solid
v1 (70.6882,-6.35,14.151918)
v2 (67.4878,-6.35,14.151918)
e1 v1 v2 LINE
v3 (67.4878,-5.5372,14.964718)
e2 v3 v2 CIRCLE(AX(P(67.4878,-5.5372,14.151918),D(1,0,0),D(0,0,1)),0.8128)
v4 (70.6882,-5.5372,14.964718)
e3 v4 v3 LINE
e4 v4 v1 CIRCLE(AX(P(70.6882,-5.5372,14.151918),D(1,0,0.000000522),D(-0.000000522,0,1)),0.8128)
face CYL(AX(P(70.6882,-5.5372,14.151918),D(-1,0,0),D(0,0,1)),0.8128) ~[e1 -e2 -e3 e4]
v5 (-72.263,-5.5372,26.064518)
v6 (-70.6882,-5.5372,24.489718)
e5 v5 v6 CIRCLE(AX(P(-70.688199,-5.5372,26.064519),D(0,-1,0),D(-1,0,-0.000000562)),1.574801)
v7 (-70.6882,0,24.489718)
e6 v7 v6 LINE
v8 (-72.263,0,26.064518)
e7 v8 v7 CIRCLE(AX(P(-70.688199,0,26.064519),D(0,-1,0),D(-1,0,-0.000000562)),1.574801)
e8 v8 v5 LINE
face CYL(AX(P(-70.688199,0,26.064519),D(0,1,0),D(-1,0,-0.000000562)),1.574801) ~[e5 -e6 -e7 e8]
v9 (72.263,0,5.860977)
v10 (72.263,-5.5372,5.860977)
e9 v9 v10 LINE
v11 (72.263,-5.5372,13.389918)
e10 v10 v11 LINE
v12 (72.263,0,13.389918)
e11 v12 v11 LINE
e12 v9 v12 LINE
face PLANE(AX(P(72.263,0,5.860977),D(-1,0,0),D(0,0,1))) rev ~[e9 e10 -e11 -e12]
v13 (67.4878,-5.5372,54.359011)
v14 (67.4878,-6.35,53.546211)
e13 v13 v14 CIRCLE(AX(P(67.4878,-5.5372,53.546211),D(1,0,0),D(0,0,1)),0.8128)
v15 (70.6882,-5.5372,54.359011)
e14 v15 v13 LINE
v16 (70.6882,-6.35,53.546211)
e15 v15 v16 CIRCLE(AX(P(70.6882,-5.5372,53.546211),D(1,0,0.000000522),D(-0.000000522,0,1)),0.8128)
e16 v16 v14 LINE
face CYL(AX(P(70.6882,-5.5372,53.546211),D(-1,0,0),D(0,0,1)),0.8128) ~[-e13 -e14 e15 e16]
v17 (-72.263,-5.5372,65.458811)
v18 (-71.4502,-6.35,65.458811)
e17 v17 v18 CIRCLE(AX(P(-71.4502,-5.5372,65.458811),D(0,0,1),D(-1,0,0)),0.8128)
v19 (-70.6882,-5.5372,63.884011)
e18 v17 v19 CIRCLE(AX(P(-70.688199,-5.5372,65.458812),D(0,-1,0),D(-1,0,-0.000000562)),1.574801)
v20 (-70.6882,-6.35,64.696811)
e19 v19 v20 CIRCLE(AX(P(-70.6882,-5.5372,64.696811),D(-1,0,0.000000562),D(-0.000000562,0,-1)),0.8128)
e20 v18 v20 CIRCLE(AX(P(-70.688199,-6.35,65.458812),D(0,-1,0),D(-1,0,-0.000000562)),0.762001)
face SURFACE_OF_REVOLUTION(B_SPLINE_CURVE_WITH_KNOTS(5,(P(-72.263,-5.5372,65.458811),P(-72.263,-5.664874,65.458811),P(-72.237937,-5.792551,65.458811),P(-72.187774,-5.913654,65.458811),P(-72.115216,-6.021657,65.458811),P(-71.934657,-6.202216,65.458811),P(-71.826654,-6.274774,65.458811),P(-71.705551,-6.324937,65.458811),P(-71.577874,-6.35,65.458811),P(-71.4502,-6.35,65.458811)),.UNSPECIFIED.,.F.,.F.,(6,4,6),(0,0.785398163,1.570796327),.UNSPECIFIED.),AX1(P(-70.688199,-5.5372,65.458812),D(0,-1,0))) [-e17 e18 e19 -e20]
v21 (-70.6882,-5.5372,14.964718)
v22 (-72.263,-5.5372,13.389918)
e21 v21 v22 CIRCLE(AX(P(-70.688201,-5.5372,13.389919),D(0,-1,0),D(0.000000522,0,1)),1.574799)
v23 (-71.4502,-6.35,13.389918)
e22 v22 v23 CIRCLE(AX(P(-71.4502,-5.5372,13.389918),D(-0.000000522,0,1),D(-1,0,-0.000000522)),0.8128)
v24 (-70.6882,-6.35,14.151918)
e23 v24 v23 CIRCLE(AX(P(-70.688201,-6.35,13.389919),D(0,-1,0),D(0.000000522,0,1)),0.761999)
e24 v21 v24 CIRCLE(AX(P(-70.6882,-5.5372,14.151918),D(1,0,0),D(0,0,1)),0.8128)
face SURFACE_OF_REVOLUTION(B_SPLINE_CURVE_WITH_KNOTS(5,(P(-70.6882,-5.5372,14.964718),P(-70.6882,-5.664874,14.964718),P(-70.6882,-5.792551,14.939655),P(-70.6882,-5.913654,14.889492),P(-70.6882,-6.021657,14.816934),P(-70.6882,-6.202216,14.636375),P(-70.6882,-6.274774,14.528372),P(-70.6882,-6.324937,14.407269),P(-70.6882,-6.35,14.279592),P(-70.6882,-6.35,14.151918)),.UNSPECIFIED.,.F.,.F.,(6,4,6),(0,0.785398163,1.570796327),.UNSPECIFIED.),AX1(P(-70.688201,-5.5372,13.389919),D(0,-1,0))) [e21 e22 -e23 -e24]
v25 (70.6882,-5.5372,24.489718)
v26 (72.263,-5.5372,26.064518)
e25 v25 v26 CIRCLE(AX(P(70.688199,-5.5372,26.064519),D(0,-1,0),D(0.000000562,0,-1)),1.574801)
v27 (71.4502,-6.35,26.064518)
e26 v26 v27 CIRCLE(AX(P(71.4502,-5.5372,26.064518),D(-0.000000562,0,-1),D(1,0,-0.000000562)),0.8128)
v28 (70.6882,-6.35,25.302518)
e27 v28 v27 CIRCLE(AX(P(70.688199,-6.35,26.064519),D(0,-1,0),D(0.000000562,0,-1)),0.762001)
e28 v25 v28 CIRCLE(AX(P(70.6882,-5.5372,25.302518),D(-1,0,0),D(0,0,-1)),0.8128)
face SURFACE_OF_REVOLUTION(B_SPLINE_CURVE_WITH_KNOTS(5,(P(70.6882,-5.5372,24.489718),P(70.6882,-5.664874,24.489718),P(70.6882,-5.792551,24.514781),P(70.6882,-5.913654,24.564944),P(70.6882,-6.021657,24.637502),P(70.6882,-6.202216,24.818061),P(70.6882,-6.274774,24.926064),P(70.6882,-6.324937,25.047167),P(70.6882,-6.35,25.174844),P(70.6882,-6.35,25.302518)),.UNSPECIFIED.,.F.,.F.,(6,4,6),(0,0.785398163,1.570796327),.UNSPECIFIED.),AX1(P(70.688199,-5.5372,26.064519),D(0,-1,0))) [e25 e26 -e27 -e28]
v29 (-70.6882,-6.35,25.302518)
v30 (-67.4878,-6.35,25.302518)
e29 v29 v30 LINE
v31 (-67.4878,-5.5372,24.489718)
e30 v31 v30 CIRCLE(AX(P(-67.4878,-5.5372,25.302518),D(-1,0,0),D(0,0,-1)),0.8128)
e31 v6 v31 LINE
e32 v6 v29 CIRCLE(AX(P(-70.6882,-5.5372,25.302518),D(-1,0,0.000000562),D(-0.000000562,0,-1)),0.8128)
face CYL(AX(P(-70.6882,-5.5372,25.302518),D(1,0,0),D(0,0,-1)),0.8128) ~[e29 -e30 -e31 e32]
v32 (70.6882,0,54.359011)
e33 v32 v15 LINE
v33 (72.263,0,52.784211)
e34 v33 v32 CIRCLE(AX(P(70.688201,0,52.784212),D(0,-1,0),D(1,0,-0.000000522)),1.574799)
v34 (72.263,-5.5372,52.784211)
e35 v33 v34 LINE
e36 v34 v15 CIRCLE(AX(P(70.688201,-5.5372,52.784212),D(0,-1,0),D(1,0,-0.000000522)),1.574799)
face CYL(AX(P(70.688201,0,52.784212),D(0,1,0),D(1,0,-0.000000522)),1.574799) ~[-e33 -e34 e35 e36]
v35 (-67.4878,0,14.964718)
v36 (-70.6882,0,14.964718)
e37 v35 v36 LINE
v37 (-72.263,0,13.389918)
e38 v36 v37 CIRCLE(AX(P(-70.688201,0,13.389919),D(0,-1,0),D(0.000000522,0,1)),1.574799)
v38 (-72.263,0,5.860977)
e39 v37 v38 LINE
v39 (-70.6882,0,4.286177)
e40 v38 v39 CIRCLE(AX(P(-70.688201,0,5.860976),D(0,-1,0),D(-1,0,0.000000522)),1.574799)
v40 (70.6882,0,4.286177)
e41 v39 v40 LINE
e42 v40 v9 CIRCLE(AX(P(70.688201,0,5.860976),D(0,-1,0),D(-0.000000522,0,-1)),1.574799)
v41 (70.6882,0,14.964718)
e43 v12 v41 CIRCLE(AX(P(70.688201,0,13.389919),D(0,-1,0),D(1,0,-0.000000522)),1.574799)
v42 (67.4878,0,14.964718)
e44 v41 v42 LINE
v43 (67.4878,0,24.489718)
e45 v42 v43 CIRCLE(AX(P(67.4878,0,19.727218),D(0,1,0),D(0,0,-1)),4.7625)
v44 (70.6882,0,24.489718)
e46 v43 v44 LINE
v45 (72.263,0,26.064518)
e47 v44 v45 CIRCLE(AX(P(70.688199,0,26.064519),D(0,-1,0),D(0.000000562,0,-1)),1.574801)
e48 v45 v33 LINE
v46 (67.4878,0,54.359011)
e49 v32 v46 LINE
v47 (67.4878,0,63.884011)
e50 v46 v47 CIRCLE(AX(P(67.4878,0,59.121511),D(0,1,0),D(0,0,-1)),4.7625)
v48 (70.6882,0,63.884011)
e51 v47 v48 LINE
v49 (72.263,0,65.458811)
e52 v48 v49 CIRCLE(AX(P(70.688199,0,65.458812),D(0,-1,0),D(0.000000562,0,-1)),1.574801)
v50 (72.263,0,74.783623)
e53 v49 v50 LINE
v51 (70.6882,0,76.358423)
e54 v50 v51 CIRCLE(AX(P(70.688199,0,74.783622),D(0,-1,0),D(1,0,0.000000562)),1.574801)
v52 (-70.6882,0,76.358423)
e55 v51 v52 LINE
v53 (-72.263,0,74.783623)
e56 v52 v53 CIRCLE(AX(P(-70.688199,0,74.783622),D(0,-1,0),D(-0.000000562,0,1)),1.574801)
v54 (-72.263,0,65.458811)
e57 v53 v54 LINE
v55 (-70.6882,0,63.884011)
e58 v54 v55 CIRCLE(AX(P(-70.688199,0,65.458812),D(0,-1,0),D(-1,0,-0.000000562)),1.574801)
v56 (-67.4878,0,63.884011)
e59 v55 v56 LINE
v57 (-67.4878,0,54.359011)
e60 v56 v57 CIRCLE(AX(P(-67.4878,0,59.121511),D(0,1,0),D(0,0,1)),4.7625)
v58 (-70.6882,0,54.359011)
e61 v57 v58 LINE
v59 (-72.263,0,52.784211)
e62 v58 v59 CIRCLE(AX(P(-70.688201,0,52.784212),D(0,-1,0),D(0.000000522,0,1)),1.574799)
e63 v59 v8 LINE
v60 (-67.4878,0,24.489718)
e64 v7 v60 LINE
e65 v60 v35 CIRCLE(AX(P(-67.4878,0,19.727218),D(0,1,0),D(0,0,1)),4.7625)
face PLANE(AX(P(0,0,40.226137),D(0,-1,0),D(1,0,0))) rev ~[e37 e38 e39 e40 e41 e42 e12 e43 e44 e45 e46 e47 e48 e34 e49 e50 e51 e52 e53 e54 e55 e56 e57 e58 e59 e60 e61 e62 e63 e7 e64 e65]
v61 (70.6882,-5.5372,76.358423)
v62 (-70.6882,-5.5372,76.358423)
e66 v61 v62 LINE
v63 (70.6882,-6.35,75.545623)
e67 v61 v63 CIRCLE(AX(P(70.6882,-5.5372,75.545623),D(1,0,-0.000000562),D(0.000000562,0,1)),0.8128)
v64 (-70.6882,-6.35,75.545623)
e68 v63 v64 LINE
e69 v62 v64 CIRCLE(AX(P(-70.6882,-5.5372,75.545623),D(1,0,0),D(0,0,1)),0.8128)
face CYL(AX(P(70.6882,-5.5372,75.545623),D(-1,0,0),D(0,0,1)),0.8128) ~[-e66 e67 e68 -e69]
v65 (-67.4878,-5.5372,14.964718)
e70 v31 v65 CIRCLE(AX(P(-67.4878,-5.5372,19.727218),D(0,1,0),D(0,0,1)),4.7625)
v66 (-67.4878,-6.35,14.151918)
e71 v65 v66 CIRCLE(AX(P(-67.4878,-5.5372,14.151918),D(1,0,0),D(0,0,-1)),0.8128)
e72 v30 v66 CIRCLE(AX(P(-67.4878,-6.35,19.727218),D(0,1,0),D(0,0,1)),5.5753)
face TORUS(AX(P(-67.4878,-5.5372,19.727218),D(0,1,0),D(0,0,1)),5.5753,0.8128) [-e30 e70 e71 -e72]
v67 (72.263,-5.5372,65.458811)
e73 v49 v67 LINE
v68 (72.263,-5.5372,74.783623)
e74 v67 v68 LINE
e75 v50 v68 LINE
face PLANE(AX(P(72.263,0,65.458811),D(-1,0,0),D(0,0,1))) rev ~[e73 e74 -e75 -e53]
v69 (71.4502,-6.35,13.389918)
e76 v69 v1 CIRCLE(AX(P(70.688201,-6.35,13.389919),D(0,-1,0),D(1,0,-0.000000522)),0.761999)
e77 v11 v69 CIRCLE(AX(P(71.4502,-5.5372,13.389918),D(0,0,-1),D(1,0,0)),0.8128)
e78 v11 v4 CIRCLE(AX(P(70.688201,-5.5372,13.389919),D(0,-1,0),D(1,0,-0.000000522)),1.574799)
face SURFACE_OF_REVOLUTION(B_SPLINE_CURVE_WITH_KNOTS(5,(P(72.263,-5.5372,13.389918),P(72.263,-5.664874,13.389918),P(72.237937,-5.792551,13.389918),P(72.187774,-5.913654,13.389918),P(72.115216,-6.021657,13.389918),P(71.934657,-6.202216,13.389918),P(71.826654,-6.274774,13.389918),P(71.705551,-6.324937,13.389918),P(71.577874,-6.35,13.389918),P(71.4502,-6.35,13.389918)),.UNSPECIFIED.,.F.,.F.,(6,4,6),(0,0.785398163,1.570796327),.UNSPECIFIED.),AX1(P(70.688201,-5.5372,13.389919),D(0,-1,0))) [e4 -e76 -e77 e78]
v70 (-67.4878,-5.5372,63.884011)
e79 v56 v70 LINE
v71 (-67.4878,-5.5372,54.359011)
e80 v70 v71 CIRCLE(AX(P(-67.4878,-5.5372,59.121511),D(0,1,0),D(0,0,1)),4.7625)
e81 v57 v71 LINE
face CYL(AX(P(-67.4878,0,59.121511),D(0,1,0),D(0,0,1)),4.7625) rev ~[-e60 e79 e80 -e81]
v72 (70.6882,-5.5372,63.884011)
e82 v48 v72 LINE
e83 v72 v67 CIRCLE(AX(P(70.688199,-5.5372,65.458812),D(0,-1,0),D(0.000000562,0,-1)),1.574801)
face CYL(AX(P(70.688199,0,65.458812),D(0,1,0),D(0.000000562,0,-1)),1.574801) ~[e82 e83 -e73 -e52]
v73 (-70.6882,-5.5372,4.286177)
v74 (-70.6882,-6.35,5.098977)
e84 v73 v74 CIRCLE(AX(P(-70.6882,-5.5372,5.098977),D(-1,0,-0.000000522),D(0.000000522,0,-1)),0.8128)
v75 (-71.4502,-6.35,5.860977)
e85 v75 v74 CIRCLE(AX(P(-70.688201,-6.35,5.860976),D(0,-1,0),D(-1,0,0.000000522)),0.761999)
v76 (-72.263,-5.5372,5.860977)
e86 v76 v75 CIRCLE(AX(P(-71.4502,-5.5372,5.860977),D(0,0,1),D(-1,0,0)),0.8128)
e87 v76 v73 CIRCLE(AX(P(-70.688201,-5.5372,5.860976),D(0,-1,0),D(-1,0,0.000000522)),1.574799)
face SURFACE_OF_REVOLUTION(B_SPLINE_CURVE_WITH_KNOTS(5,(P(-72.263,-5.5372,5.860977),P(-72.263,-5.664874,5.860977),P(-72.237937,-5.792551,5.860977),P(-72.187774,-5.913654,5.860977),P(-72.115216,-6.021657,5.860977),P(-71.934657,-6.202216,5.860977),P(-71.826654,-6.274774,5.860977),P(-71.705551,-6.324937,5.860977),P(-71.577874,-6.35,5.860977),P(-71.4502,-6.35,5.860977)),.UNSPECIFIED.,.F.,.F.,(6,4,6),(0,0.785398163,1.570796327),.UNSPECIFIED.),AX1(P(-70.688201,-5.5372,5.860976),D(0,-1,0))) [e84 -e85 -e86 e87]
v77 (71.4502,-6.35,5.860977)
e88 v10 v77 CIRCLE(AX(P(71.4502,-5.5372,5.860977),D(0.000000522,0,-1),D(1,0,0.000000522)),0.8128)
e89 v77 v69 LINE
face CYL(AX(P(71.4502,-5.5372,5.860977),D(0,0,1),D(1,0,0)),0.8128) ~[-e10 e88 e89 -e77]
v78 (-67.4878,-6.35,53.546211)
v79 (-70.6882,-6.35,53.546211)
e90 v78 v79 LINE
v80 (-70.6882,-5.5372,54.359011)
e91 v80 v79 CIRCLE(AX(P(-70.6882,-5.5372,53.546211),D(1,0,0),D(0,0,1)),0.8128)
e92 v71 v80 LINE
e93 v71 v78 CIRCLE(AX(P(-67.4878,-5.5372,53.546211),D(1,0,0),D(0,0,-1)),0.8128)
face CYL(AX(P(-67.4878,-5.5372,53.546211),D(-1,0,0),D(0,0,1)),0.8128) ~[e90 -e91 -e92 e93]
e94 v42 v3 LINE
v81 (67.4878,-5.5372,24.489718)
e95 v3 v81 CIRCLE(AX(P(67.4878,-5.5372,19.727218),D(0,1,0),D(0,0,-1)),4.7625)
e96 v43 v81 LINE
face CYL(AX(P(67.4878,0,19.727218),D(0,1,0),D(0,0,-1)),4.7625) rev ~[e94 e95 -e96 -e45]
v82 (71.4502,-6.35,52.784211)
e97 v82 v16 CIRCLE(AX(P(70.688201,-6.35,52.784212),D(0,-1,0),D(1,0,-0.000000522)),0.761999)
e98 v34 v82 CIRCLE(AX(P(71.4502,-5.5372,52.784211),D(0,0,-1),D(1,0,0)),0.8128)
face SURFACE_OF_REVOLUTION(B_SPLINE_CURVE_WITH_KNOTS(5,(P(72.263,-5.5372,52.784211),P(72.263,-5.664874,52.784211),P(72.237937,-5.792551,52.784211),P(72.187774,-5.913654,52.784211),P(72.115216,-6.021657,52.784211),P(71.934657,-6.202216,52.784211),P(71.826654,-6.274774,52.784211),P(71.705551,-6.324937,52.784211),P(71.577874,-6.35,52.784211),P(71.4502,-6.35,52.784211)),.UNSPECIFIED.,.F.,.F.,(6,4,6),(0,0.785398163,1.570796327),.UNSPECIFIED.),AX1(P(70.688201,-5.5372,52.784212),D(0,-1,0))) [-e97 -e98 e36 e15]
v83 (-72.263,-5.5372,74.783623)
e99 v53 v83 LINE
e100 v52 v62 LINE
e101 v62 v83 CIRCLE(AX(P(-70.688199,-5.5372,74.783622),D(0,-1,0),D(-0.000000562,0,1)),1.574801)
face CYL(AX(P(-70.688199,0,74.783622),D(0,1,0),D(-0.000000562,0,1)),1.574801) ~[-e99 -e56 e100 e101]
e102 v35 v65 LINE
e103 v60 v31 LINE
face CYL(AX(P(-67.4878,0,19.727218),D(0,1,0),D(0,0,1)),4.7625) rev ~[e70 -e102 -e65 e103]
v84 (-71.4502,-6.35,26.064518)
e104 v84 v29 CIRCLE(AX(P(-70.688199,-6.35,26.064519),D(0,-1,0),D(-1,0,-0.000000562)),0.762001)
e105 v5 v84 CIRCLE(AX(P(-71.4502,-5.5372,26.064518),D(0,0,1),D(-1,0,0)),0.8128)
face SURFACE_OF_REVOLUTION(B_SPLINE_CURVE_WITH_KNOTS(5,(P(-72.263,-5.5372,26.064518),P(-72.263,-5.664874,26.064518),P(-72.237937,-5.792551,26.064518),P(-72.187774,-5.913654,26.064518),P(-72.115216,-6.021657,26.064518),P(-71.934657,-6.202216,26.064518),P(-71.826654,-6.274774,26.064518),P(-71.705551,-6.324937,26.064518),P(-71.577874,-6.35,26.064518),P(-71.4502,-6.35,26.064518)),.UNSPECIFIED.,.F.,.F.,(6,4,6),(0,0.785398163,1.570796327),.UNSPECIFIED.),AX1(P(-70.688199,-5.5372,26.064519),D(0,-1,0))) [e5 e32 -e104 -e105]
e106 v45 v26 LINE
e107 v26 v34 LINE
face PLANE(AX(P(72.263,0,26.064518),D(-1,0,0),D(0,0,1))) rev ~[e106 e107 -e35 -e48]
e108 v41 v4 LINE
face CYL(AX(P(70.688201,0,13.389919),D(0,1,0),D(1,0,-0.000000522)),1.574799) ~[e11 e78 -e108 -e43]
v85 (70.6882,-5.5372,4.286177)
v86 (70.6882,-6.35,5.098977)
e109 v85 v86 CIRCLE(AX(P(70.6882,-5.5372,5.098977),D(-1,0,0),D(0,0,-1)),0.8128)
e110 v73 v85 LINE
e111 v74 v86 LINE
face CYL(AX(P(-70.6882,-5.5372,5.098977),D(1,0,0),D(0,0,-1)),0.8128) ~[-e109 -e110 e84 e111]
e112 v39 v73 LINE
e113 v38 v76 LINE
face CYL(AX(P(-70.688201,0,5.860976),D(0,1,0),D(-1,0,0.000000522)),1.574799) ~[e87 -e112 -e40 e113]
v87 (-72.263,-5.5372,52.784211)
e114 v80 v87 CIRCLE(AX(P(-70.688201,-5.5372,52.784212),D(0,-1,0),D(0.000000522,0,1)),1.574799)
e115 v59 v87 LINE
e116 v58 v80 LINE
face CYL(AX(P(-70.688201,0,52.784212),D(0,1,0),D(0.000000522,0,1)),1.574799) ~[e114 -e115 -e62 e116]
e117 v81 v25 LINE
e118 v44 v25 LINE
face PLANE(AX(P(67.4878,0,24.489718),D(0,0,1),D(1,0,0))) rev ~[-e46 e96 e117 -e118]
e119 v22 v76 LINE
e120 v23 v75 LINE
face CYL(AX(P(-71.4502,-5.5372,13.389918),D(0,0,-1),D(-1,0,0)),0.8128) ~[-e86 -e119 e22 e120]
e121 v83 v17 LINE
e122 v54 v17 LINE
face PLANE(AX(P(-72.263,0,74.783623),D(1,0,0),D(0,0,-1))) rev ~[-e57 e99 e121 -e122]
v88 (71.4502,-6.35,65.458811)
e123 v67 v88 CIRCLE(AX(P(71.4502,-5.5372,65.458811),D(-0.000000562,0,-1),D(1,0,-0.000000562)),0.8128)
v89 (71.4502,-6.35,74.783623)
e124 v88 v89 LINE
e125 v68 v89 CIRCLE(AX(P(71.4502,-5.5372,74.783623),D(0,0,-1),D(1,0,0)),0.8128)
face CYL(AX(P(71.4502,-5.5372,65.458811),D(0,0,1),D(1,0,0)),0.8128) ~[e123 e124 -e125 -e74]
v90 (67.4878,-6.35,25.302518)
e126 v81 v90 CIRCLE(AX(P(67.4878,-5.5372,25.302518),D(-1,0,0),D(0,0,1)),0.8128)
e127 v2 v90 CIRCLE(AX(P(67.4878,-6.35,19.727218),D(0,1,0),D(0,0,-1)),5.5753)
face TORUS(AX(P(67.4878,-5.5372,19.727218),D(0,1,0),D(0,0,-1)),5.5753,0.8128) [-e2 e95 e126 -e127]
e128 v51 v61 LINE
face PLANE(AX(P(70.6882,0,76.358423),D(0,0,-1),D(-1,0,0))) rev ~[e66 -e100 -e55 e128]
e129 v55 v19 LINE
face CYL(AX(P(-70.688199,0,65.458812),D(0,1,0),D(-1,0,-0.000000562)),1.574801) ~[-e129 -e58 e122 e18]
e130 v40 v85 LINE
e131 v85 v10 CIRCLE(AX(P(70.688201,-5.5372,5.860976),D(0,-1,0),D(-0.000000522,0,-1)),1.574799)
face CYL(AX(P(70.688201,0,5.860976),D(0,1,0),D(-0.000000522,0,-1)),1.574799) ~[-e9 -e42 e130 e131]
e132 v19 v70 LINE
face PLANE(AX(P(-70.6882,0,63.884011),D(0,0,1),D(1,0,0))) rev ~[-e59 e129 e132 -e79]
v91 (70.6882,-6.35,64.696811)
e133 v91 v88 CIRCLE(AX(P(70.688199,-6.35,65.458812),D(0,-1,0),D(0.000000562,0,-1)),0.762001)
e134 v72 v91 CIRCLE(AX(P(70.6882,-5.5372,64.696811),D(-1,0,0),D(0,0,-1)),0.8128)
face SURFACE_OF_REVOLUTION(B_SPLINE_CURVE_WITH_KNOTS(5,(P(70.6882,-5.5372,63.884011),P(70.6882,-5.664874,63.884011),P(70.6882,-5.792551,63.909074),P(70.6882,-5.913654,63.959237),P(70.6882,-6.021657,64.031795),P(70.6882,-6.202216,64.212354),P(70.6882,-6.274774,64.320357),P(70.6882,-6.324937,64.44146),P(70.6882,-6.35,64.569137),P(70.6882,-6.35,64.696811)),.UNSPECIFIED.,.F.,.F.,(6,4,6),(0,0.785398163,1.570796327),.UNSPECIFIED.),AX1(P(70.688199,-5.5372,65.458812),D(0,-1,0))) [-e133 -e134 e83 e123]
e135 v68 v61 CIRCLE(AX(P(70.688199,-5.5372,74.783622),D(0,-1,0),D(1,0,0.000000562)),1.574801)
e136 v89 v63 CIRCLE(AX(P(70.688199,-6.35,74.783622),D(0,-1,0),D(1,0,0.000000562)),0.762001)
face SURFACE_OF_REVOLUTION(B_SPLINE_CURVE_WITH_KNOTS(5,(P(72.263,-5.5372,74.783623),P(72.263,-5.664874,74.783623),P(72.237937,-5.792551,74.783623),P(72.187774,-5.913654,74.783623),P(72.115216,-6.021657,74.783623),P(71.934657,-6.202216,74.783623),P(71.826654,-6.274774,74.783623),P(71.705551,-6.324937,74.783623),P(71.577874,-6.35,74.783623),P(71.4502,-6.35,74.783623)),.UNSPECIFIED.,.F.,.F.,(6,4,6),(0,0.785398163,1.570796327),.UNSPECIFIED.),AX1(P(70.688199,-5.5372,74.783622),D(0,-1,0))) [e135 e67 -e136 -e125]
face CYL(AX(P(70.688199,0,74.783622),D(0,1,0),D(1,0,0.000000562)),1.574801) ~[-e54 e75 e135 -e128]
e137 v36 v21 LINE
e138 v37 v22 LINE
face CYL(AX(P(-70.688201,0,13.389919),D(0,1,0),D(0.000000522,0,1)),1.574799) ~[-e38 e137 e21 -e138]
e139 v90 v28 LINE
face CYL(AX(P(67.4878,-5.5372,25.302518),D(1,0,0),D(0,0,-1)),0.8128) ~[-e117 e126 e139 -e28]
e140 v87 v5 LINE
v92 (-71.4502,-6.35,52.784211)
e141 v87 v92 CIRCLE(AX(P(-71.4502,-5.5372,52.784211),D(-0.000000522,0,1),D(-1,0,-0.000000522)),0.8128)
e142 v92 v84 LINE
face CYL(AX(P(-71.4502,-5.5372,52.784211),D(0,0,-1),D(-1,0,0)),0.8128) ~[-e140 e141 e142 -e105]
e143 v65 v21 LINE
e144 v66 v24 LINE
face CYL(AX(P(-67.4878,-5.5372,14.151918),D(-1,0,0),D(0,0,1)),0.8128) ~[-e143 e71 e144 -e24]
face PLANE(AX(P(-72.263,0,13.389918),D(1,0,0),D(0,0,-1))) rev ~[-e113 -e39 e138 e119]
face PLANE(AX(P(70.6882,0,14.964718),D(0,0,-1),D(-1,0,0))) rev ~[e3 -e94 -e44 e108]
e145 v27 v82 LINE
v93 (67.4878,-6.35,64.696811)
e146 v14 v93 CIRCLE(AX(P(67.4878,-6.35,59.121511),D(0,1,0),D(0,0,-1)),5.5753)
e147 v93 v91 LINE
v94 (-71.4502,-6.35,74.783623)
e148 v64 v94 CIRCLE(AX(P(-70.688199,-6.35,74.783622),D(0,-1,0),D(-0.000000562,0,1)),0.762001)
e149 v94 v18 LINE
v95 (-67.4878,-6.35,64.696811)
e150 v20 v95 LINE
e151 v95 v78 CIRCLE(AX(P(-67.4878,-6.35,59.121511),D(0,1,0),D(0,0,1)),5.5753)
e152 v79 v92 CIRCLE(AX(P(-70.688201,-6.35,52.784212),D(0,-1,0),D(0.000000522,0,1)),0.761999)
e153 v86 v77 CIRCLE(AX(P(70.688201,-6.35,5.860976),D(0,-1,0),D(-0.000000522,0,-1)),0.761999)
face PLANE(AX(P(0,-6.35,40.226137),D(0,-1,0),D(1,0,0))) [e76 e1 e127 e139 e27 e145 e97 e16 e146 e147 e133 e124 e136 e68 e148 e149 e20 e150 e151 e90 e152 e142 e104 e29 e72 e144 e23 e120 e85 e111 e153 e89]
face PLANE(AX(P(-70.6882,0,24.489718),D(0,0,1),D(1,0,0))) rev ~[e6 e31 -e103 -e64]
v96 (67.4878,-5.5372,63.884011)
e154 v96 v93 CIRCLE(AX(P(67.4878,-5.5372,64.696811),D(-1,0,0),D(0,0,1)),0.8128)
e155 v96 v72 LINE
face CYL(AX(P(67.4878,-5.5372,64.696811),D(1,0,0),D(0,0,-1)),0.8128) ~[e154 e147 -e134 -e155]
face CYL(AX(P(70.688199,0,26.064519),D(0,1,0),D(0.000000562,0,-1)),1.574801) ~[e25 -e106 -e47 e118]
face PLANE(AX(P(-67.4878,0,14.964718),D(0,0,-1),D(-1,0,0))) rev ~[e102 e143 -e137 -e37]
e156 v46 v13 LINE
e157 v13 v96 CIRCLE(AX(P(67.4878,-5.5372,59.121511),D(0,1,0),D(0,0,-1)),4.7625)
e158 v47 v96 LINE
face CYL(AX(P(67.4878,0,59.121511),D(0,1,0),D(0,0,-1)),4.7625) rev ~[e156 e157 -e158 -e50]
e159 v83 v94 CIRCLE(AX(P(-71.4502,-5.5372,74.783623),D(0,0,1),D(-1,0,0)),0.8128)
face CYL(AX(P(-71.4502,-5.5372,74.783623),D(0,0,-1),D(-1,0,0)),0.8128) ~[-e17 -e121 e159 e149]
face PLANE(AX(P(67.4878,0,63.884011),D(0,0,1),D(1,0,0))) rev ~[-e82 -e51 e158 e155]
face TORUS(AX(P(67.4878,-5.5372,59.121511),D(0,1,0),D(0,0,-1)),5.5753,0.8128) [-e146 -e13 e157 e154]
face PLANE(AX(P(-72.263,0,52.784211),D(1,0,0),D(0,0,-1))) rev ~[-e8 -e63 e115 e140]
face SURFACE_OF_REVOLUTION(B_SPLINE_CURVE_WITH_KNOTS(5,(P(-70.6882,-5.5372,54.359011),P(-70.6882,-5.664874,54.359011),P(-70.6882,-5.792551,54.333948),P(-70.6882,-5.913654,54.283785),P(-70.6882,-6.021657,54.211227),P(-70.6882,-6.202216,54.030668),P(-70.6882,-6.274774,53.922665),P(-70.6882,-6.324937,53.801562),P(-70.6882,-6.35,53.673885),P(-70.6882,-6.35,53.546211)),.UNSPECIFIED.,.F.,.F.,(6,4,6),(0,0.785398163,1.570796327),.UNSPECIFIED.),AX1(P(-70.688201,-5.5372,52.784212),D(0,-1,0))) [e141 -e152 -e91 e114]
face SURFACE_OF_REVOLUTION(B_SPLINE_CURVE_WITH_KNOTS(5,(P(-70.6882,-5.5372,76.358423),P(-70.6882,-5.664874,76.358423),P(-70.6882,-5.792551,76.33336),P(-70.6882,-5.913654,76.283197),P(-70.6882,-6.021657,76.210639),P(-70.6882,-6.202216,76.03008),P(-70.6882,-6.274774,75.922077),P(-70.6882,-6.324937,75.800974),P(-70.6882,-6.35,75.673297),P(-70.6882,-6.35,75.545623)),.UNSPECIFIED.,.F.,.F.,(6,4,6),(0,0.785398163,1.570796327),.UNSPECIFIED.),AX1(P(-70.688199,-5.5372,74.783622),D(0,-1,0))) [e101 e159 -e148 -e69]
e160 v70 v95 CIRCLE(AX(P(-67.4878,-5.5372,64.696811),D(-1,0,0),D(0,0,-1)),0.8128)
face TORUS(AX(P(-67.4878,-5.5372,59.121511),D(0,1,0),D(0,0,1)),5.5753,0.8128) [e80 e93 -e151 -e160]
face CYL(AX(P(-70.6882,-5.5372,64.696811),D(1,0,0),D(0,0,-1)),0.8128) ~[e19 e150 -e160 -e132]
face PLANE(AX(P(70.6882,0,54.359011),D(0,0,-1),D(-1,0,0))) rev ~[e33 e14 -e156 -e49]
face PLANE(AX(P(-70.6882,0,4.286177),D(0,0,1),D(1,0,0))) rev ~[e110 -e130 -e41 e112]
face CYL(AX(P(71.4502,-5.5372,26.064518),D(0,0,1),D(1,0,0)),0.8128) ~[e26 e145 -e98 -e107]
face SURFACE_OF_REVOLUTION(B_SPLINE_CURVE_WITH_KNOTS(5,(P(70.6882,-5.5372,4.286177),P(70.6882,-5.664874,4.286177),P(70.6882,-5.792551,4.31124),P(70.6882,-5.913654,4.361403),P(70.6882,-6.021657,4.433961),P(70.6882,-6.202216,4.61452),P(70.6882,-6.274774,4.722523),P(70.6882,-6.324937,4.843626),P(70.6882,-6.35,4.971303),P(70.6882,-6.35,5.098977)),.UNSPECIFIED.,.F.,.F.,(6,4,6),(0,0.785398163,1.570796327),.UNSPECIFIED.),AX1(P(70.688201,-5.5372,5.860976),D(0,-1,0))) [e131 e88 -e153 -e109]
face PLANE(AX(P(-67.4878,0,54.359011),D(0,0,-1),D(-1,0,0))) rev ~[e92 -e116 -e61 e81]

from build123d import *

# Parameters (mm, degrees)
F1_DEPTH = 6.35
F2_R     = 0.8128


with BuildPart() as f1:
    # F0 (on Front) → F1 (new body)
    with BuildSketch(Plane.XZ):
        with BuildLine():
            ThreePointArc((-70.6882, 76.358423), (-71.801752, 75.897174), (-72.263, 74.783623))
            Line((-72.263, 74.783623), (-72.263, 65.458811))
            ThreePointArc((-72.263, 65.458811), (-71.801752, 64.34526), (-70.6882, 63.884011))
            Line((-70.6882, 63.884011), (-67.4878, 63.884011))
            ThreePointArc((-67.4878, 63.884011), (-62.7253, 59.121511), (-67.4878, 54.359011))
            Line((-67.4878, 54.359011), (-70.6882, 54.359011))
            ThreePointArc((-70.6882, 54.359011), (-71.801752, 53.897763), (-72.263, 52.784211))
            Line((-72.263, 52.784211), (-72.263, 26.064518))
            ThreePointArc((-72.263, 26.064518), (-71.801752, 24.950967), (-70.6882, 24.489718))
            Line((-70.6882, 24.489718), (-67.4878, 24.489718))
            ThreePointArc((-67.4878, 24.489718), (-62.7253, 19.727218), (-67.4878, 14.964718))
            Line((-67.4878, 14.964718), (-70.6882, 14.964718))
            ThreePointArc((-70.6882, 14.964718), (-71.801752, 14.50347), (-72.263, 13.389918))
            Line((-72.263, 13.389918), (-72.263, 5.860977))
            ThreePointArc((-72.263, 5.860977), (-71.801752, 4.747425), (-70.6882, 4.286177))
            Line((-70.6882, 4.286177), (0, 4.286177))
            Line((0, 4.286177), (70.6882, 4.286177))
            ThreePointArc((70.6882, 4.286177), (71.801752, 4.747425), (72.263, 5.860977))
            Line((72.263, 5.860977), (72.263, 13.389918))
            ThreePointArc((72.263, 13.389918), (71.801752, 14.50347), (70.6882, 14.964718))
            Line((70.6882, 14.964718), (67.4878, 14.964718))
            ThreePointArc((67.4878, 14.964718), (62.7253, 19.727218), (67.4878, 24.489718))
            Line((67.4878, 24.489718), (70.6882, 24.489718))
            ThreePointArc((70.6882, 24.489718), (71.801752, 24.950967), (72.263, 26.064518))
            Line((72.263, 26.064518), (72.263, 52.784211))
            ThreePointArc((72.263, 52.784211), (71.801752, 53.897763), (70.6882, 54.359011))
            Line((70.6882, 54.359011), (67.4878, 54.359011))
            ThreePointArc((67.4878, 54.359011), (62.7253, 59.121511), (67.4878, 63.884011))
            Line((67.4878, 63.884011), (70.6882, 63.884011))
            ThreePointArc((70.6882, 63.884011), (71.801752, 64.34526), (72.263, 65.458811))
            Line((72.263, 65.458811), (72.263, 74.783623))
            ThreePointArc((72.263, 74.783623), (71.801752, 75.897174), (70.6882, 76.358423))
            Line((70.6882, 76.358423), (3.71171, 76.358423))
            Line((3.71171, 76.358423), (-3.71171, 76.358423))
            Line((-3.71171, 76.358423), (-70.6882, 76.358423))
        make_face()
    extrude(amount=F1_DEPTH)

    # F2
    f2_edges = [f1.edges().sort_by_distance(p)[0] for p in [
        (-72.263, -6.35, 70.121217),
        (-71.801752, -6.35, 75.897174),
        (0, -6.35, 76.358423),
        (71.801752, -6.35, 75.897174),
        (72.263, -6.35, 70.121217),
        (71.801752, -6.35, 64.34526),
        (62.7253, -6.35, 59.121511),
        (69.088, -6.35, 63.884011),
        (69.088, -6.35, 54.359011),
        (71.801752, -6.35, 53.897763),
        (72.263, -6.35, 39.424365),
        (71.801752, -6.35, 24.950967),
        (69.088, -6.35, 24.489718),
        (62.7253, -6.35, 19.727218),
        (69.088, -6.35, 14.964718),
        (71.801752, -6.35, 14.50347),
        (72.263, -6.35, 9.625448),
        (71.801752, -6.35, 4.747425),
        (0, -6.35, 4.286177),
        (-71.801752, -6.35, 4.747425),
        (-72.263, -6.35, 9.625448),
        (-71.801752, -6.35, 14.50347),
        (-62.7253, -6.35, 19.727218),
        (-69.088, -6.35, 14.964718),
        (-69.088, -6.35, 24.489718),
        (-71.801752, -6.35, 24.950967),
        (-72.263, -6.35, 39.424365),
        (-71.801752, -6.35, 53.897763),
        (-62.7253, -6.35, 59.121511),
        (-69.088, -6.35, 54.359011),
        (-69.088, -6.35, 63.884011),
        (-71.801752, -6.35, 64.34526),
    ]]
    fillet(f2_edges, radius=F2_R)


solid = f1.part
